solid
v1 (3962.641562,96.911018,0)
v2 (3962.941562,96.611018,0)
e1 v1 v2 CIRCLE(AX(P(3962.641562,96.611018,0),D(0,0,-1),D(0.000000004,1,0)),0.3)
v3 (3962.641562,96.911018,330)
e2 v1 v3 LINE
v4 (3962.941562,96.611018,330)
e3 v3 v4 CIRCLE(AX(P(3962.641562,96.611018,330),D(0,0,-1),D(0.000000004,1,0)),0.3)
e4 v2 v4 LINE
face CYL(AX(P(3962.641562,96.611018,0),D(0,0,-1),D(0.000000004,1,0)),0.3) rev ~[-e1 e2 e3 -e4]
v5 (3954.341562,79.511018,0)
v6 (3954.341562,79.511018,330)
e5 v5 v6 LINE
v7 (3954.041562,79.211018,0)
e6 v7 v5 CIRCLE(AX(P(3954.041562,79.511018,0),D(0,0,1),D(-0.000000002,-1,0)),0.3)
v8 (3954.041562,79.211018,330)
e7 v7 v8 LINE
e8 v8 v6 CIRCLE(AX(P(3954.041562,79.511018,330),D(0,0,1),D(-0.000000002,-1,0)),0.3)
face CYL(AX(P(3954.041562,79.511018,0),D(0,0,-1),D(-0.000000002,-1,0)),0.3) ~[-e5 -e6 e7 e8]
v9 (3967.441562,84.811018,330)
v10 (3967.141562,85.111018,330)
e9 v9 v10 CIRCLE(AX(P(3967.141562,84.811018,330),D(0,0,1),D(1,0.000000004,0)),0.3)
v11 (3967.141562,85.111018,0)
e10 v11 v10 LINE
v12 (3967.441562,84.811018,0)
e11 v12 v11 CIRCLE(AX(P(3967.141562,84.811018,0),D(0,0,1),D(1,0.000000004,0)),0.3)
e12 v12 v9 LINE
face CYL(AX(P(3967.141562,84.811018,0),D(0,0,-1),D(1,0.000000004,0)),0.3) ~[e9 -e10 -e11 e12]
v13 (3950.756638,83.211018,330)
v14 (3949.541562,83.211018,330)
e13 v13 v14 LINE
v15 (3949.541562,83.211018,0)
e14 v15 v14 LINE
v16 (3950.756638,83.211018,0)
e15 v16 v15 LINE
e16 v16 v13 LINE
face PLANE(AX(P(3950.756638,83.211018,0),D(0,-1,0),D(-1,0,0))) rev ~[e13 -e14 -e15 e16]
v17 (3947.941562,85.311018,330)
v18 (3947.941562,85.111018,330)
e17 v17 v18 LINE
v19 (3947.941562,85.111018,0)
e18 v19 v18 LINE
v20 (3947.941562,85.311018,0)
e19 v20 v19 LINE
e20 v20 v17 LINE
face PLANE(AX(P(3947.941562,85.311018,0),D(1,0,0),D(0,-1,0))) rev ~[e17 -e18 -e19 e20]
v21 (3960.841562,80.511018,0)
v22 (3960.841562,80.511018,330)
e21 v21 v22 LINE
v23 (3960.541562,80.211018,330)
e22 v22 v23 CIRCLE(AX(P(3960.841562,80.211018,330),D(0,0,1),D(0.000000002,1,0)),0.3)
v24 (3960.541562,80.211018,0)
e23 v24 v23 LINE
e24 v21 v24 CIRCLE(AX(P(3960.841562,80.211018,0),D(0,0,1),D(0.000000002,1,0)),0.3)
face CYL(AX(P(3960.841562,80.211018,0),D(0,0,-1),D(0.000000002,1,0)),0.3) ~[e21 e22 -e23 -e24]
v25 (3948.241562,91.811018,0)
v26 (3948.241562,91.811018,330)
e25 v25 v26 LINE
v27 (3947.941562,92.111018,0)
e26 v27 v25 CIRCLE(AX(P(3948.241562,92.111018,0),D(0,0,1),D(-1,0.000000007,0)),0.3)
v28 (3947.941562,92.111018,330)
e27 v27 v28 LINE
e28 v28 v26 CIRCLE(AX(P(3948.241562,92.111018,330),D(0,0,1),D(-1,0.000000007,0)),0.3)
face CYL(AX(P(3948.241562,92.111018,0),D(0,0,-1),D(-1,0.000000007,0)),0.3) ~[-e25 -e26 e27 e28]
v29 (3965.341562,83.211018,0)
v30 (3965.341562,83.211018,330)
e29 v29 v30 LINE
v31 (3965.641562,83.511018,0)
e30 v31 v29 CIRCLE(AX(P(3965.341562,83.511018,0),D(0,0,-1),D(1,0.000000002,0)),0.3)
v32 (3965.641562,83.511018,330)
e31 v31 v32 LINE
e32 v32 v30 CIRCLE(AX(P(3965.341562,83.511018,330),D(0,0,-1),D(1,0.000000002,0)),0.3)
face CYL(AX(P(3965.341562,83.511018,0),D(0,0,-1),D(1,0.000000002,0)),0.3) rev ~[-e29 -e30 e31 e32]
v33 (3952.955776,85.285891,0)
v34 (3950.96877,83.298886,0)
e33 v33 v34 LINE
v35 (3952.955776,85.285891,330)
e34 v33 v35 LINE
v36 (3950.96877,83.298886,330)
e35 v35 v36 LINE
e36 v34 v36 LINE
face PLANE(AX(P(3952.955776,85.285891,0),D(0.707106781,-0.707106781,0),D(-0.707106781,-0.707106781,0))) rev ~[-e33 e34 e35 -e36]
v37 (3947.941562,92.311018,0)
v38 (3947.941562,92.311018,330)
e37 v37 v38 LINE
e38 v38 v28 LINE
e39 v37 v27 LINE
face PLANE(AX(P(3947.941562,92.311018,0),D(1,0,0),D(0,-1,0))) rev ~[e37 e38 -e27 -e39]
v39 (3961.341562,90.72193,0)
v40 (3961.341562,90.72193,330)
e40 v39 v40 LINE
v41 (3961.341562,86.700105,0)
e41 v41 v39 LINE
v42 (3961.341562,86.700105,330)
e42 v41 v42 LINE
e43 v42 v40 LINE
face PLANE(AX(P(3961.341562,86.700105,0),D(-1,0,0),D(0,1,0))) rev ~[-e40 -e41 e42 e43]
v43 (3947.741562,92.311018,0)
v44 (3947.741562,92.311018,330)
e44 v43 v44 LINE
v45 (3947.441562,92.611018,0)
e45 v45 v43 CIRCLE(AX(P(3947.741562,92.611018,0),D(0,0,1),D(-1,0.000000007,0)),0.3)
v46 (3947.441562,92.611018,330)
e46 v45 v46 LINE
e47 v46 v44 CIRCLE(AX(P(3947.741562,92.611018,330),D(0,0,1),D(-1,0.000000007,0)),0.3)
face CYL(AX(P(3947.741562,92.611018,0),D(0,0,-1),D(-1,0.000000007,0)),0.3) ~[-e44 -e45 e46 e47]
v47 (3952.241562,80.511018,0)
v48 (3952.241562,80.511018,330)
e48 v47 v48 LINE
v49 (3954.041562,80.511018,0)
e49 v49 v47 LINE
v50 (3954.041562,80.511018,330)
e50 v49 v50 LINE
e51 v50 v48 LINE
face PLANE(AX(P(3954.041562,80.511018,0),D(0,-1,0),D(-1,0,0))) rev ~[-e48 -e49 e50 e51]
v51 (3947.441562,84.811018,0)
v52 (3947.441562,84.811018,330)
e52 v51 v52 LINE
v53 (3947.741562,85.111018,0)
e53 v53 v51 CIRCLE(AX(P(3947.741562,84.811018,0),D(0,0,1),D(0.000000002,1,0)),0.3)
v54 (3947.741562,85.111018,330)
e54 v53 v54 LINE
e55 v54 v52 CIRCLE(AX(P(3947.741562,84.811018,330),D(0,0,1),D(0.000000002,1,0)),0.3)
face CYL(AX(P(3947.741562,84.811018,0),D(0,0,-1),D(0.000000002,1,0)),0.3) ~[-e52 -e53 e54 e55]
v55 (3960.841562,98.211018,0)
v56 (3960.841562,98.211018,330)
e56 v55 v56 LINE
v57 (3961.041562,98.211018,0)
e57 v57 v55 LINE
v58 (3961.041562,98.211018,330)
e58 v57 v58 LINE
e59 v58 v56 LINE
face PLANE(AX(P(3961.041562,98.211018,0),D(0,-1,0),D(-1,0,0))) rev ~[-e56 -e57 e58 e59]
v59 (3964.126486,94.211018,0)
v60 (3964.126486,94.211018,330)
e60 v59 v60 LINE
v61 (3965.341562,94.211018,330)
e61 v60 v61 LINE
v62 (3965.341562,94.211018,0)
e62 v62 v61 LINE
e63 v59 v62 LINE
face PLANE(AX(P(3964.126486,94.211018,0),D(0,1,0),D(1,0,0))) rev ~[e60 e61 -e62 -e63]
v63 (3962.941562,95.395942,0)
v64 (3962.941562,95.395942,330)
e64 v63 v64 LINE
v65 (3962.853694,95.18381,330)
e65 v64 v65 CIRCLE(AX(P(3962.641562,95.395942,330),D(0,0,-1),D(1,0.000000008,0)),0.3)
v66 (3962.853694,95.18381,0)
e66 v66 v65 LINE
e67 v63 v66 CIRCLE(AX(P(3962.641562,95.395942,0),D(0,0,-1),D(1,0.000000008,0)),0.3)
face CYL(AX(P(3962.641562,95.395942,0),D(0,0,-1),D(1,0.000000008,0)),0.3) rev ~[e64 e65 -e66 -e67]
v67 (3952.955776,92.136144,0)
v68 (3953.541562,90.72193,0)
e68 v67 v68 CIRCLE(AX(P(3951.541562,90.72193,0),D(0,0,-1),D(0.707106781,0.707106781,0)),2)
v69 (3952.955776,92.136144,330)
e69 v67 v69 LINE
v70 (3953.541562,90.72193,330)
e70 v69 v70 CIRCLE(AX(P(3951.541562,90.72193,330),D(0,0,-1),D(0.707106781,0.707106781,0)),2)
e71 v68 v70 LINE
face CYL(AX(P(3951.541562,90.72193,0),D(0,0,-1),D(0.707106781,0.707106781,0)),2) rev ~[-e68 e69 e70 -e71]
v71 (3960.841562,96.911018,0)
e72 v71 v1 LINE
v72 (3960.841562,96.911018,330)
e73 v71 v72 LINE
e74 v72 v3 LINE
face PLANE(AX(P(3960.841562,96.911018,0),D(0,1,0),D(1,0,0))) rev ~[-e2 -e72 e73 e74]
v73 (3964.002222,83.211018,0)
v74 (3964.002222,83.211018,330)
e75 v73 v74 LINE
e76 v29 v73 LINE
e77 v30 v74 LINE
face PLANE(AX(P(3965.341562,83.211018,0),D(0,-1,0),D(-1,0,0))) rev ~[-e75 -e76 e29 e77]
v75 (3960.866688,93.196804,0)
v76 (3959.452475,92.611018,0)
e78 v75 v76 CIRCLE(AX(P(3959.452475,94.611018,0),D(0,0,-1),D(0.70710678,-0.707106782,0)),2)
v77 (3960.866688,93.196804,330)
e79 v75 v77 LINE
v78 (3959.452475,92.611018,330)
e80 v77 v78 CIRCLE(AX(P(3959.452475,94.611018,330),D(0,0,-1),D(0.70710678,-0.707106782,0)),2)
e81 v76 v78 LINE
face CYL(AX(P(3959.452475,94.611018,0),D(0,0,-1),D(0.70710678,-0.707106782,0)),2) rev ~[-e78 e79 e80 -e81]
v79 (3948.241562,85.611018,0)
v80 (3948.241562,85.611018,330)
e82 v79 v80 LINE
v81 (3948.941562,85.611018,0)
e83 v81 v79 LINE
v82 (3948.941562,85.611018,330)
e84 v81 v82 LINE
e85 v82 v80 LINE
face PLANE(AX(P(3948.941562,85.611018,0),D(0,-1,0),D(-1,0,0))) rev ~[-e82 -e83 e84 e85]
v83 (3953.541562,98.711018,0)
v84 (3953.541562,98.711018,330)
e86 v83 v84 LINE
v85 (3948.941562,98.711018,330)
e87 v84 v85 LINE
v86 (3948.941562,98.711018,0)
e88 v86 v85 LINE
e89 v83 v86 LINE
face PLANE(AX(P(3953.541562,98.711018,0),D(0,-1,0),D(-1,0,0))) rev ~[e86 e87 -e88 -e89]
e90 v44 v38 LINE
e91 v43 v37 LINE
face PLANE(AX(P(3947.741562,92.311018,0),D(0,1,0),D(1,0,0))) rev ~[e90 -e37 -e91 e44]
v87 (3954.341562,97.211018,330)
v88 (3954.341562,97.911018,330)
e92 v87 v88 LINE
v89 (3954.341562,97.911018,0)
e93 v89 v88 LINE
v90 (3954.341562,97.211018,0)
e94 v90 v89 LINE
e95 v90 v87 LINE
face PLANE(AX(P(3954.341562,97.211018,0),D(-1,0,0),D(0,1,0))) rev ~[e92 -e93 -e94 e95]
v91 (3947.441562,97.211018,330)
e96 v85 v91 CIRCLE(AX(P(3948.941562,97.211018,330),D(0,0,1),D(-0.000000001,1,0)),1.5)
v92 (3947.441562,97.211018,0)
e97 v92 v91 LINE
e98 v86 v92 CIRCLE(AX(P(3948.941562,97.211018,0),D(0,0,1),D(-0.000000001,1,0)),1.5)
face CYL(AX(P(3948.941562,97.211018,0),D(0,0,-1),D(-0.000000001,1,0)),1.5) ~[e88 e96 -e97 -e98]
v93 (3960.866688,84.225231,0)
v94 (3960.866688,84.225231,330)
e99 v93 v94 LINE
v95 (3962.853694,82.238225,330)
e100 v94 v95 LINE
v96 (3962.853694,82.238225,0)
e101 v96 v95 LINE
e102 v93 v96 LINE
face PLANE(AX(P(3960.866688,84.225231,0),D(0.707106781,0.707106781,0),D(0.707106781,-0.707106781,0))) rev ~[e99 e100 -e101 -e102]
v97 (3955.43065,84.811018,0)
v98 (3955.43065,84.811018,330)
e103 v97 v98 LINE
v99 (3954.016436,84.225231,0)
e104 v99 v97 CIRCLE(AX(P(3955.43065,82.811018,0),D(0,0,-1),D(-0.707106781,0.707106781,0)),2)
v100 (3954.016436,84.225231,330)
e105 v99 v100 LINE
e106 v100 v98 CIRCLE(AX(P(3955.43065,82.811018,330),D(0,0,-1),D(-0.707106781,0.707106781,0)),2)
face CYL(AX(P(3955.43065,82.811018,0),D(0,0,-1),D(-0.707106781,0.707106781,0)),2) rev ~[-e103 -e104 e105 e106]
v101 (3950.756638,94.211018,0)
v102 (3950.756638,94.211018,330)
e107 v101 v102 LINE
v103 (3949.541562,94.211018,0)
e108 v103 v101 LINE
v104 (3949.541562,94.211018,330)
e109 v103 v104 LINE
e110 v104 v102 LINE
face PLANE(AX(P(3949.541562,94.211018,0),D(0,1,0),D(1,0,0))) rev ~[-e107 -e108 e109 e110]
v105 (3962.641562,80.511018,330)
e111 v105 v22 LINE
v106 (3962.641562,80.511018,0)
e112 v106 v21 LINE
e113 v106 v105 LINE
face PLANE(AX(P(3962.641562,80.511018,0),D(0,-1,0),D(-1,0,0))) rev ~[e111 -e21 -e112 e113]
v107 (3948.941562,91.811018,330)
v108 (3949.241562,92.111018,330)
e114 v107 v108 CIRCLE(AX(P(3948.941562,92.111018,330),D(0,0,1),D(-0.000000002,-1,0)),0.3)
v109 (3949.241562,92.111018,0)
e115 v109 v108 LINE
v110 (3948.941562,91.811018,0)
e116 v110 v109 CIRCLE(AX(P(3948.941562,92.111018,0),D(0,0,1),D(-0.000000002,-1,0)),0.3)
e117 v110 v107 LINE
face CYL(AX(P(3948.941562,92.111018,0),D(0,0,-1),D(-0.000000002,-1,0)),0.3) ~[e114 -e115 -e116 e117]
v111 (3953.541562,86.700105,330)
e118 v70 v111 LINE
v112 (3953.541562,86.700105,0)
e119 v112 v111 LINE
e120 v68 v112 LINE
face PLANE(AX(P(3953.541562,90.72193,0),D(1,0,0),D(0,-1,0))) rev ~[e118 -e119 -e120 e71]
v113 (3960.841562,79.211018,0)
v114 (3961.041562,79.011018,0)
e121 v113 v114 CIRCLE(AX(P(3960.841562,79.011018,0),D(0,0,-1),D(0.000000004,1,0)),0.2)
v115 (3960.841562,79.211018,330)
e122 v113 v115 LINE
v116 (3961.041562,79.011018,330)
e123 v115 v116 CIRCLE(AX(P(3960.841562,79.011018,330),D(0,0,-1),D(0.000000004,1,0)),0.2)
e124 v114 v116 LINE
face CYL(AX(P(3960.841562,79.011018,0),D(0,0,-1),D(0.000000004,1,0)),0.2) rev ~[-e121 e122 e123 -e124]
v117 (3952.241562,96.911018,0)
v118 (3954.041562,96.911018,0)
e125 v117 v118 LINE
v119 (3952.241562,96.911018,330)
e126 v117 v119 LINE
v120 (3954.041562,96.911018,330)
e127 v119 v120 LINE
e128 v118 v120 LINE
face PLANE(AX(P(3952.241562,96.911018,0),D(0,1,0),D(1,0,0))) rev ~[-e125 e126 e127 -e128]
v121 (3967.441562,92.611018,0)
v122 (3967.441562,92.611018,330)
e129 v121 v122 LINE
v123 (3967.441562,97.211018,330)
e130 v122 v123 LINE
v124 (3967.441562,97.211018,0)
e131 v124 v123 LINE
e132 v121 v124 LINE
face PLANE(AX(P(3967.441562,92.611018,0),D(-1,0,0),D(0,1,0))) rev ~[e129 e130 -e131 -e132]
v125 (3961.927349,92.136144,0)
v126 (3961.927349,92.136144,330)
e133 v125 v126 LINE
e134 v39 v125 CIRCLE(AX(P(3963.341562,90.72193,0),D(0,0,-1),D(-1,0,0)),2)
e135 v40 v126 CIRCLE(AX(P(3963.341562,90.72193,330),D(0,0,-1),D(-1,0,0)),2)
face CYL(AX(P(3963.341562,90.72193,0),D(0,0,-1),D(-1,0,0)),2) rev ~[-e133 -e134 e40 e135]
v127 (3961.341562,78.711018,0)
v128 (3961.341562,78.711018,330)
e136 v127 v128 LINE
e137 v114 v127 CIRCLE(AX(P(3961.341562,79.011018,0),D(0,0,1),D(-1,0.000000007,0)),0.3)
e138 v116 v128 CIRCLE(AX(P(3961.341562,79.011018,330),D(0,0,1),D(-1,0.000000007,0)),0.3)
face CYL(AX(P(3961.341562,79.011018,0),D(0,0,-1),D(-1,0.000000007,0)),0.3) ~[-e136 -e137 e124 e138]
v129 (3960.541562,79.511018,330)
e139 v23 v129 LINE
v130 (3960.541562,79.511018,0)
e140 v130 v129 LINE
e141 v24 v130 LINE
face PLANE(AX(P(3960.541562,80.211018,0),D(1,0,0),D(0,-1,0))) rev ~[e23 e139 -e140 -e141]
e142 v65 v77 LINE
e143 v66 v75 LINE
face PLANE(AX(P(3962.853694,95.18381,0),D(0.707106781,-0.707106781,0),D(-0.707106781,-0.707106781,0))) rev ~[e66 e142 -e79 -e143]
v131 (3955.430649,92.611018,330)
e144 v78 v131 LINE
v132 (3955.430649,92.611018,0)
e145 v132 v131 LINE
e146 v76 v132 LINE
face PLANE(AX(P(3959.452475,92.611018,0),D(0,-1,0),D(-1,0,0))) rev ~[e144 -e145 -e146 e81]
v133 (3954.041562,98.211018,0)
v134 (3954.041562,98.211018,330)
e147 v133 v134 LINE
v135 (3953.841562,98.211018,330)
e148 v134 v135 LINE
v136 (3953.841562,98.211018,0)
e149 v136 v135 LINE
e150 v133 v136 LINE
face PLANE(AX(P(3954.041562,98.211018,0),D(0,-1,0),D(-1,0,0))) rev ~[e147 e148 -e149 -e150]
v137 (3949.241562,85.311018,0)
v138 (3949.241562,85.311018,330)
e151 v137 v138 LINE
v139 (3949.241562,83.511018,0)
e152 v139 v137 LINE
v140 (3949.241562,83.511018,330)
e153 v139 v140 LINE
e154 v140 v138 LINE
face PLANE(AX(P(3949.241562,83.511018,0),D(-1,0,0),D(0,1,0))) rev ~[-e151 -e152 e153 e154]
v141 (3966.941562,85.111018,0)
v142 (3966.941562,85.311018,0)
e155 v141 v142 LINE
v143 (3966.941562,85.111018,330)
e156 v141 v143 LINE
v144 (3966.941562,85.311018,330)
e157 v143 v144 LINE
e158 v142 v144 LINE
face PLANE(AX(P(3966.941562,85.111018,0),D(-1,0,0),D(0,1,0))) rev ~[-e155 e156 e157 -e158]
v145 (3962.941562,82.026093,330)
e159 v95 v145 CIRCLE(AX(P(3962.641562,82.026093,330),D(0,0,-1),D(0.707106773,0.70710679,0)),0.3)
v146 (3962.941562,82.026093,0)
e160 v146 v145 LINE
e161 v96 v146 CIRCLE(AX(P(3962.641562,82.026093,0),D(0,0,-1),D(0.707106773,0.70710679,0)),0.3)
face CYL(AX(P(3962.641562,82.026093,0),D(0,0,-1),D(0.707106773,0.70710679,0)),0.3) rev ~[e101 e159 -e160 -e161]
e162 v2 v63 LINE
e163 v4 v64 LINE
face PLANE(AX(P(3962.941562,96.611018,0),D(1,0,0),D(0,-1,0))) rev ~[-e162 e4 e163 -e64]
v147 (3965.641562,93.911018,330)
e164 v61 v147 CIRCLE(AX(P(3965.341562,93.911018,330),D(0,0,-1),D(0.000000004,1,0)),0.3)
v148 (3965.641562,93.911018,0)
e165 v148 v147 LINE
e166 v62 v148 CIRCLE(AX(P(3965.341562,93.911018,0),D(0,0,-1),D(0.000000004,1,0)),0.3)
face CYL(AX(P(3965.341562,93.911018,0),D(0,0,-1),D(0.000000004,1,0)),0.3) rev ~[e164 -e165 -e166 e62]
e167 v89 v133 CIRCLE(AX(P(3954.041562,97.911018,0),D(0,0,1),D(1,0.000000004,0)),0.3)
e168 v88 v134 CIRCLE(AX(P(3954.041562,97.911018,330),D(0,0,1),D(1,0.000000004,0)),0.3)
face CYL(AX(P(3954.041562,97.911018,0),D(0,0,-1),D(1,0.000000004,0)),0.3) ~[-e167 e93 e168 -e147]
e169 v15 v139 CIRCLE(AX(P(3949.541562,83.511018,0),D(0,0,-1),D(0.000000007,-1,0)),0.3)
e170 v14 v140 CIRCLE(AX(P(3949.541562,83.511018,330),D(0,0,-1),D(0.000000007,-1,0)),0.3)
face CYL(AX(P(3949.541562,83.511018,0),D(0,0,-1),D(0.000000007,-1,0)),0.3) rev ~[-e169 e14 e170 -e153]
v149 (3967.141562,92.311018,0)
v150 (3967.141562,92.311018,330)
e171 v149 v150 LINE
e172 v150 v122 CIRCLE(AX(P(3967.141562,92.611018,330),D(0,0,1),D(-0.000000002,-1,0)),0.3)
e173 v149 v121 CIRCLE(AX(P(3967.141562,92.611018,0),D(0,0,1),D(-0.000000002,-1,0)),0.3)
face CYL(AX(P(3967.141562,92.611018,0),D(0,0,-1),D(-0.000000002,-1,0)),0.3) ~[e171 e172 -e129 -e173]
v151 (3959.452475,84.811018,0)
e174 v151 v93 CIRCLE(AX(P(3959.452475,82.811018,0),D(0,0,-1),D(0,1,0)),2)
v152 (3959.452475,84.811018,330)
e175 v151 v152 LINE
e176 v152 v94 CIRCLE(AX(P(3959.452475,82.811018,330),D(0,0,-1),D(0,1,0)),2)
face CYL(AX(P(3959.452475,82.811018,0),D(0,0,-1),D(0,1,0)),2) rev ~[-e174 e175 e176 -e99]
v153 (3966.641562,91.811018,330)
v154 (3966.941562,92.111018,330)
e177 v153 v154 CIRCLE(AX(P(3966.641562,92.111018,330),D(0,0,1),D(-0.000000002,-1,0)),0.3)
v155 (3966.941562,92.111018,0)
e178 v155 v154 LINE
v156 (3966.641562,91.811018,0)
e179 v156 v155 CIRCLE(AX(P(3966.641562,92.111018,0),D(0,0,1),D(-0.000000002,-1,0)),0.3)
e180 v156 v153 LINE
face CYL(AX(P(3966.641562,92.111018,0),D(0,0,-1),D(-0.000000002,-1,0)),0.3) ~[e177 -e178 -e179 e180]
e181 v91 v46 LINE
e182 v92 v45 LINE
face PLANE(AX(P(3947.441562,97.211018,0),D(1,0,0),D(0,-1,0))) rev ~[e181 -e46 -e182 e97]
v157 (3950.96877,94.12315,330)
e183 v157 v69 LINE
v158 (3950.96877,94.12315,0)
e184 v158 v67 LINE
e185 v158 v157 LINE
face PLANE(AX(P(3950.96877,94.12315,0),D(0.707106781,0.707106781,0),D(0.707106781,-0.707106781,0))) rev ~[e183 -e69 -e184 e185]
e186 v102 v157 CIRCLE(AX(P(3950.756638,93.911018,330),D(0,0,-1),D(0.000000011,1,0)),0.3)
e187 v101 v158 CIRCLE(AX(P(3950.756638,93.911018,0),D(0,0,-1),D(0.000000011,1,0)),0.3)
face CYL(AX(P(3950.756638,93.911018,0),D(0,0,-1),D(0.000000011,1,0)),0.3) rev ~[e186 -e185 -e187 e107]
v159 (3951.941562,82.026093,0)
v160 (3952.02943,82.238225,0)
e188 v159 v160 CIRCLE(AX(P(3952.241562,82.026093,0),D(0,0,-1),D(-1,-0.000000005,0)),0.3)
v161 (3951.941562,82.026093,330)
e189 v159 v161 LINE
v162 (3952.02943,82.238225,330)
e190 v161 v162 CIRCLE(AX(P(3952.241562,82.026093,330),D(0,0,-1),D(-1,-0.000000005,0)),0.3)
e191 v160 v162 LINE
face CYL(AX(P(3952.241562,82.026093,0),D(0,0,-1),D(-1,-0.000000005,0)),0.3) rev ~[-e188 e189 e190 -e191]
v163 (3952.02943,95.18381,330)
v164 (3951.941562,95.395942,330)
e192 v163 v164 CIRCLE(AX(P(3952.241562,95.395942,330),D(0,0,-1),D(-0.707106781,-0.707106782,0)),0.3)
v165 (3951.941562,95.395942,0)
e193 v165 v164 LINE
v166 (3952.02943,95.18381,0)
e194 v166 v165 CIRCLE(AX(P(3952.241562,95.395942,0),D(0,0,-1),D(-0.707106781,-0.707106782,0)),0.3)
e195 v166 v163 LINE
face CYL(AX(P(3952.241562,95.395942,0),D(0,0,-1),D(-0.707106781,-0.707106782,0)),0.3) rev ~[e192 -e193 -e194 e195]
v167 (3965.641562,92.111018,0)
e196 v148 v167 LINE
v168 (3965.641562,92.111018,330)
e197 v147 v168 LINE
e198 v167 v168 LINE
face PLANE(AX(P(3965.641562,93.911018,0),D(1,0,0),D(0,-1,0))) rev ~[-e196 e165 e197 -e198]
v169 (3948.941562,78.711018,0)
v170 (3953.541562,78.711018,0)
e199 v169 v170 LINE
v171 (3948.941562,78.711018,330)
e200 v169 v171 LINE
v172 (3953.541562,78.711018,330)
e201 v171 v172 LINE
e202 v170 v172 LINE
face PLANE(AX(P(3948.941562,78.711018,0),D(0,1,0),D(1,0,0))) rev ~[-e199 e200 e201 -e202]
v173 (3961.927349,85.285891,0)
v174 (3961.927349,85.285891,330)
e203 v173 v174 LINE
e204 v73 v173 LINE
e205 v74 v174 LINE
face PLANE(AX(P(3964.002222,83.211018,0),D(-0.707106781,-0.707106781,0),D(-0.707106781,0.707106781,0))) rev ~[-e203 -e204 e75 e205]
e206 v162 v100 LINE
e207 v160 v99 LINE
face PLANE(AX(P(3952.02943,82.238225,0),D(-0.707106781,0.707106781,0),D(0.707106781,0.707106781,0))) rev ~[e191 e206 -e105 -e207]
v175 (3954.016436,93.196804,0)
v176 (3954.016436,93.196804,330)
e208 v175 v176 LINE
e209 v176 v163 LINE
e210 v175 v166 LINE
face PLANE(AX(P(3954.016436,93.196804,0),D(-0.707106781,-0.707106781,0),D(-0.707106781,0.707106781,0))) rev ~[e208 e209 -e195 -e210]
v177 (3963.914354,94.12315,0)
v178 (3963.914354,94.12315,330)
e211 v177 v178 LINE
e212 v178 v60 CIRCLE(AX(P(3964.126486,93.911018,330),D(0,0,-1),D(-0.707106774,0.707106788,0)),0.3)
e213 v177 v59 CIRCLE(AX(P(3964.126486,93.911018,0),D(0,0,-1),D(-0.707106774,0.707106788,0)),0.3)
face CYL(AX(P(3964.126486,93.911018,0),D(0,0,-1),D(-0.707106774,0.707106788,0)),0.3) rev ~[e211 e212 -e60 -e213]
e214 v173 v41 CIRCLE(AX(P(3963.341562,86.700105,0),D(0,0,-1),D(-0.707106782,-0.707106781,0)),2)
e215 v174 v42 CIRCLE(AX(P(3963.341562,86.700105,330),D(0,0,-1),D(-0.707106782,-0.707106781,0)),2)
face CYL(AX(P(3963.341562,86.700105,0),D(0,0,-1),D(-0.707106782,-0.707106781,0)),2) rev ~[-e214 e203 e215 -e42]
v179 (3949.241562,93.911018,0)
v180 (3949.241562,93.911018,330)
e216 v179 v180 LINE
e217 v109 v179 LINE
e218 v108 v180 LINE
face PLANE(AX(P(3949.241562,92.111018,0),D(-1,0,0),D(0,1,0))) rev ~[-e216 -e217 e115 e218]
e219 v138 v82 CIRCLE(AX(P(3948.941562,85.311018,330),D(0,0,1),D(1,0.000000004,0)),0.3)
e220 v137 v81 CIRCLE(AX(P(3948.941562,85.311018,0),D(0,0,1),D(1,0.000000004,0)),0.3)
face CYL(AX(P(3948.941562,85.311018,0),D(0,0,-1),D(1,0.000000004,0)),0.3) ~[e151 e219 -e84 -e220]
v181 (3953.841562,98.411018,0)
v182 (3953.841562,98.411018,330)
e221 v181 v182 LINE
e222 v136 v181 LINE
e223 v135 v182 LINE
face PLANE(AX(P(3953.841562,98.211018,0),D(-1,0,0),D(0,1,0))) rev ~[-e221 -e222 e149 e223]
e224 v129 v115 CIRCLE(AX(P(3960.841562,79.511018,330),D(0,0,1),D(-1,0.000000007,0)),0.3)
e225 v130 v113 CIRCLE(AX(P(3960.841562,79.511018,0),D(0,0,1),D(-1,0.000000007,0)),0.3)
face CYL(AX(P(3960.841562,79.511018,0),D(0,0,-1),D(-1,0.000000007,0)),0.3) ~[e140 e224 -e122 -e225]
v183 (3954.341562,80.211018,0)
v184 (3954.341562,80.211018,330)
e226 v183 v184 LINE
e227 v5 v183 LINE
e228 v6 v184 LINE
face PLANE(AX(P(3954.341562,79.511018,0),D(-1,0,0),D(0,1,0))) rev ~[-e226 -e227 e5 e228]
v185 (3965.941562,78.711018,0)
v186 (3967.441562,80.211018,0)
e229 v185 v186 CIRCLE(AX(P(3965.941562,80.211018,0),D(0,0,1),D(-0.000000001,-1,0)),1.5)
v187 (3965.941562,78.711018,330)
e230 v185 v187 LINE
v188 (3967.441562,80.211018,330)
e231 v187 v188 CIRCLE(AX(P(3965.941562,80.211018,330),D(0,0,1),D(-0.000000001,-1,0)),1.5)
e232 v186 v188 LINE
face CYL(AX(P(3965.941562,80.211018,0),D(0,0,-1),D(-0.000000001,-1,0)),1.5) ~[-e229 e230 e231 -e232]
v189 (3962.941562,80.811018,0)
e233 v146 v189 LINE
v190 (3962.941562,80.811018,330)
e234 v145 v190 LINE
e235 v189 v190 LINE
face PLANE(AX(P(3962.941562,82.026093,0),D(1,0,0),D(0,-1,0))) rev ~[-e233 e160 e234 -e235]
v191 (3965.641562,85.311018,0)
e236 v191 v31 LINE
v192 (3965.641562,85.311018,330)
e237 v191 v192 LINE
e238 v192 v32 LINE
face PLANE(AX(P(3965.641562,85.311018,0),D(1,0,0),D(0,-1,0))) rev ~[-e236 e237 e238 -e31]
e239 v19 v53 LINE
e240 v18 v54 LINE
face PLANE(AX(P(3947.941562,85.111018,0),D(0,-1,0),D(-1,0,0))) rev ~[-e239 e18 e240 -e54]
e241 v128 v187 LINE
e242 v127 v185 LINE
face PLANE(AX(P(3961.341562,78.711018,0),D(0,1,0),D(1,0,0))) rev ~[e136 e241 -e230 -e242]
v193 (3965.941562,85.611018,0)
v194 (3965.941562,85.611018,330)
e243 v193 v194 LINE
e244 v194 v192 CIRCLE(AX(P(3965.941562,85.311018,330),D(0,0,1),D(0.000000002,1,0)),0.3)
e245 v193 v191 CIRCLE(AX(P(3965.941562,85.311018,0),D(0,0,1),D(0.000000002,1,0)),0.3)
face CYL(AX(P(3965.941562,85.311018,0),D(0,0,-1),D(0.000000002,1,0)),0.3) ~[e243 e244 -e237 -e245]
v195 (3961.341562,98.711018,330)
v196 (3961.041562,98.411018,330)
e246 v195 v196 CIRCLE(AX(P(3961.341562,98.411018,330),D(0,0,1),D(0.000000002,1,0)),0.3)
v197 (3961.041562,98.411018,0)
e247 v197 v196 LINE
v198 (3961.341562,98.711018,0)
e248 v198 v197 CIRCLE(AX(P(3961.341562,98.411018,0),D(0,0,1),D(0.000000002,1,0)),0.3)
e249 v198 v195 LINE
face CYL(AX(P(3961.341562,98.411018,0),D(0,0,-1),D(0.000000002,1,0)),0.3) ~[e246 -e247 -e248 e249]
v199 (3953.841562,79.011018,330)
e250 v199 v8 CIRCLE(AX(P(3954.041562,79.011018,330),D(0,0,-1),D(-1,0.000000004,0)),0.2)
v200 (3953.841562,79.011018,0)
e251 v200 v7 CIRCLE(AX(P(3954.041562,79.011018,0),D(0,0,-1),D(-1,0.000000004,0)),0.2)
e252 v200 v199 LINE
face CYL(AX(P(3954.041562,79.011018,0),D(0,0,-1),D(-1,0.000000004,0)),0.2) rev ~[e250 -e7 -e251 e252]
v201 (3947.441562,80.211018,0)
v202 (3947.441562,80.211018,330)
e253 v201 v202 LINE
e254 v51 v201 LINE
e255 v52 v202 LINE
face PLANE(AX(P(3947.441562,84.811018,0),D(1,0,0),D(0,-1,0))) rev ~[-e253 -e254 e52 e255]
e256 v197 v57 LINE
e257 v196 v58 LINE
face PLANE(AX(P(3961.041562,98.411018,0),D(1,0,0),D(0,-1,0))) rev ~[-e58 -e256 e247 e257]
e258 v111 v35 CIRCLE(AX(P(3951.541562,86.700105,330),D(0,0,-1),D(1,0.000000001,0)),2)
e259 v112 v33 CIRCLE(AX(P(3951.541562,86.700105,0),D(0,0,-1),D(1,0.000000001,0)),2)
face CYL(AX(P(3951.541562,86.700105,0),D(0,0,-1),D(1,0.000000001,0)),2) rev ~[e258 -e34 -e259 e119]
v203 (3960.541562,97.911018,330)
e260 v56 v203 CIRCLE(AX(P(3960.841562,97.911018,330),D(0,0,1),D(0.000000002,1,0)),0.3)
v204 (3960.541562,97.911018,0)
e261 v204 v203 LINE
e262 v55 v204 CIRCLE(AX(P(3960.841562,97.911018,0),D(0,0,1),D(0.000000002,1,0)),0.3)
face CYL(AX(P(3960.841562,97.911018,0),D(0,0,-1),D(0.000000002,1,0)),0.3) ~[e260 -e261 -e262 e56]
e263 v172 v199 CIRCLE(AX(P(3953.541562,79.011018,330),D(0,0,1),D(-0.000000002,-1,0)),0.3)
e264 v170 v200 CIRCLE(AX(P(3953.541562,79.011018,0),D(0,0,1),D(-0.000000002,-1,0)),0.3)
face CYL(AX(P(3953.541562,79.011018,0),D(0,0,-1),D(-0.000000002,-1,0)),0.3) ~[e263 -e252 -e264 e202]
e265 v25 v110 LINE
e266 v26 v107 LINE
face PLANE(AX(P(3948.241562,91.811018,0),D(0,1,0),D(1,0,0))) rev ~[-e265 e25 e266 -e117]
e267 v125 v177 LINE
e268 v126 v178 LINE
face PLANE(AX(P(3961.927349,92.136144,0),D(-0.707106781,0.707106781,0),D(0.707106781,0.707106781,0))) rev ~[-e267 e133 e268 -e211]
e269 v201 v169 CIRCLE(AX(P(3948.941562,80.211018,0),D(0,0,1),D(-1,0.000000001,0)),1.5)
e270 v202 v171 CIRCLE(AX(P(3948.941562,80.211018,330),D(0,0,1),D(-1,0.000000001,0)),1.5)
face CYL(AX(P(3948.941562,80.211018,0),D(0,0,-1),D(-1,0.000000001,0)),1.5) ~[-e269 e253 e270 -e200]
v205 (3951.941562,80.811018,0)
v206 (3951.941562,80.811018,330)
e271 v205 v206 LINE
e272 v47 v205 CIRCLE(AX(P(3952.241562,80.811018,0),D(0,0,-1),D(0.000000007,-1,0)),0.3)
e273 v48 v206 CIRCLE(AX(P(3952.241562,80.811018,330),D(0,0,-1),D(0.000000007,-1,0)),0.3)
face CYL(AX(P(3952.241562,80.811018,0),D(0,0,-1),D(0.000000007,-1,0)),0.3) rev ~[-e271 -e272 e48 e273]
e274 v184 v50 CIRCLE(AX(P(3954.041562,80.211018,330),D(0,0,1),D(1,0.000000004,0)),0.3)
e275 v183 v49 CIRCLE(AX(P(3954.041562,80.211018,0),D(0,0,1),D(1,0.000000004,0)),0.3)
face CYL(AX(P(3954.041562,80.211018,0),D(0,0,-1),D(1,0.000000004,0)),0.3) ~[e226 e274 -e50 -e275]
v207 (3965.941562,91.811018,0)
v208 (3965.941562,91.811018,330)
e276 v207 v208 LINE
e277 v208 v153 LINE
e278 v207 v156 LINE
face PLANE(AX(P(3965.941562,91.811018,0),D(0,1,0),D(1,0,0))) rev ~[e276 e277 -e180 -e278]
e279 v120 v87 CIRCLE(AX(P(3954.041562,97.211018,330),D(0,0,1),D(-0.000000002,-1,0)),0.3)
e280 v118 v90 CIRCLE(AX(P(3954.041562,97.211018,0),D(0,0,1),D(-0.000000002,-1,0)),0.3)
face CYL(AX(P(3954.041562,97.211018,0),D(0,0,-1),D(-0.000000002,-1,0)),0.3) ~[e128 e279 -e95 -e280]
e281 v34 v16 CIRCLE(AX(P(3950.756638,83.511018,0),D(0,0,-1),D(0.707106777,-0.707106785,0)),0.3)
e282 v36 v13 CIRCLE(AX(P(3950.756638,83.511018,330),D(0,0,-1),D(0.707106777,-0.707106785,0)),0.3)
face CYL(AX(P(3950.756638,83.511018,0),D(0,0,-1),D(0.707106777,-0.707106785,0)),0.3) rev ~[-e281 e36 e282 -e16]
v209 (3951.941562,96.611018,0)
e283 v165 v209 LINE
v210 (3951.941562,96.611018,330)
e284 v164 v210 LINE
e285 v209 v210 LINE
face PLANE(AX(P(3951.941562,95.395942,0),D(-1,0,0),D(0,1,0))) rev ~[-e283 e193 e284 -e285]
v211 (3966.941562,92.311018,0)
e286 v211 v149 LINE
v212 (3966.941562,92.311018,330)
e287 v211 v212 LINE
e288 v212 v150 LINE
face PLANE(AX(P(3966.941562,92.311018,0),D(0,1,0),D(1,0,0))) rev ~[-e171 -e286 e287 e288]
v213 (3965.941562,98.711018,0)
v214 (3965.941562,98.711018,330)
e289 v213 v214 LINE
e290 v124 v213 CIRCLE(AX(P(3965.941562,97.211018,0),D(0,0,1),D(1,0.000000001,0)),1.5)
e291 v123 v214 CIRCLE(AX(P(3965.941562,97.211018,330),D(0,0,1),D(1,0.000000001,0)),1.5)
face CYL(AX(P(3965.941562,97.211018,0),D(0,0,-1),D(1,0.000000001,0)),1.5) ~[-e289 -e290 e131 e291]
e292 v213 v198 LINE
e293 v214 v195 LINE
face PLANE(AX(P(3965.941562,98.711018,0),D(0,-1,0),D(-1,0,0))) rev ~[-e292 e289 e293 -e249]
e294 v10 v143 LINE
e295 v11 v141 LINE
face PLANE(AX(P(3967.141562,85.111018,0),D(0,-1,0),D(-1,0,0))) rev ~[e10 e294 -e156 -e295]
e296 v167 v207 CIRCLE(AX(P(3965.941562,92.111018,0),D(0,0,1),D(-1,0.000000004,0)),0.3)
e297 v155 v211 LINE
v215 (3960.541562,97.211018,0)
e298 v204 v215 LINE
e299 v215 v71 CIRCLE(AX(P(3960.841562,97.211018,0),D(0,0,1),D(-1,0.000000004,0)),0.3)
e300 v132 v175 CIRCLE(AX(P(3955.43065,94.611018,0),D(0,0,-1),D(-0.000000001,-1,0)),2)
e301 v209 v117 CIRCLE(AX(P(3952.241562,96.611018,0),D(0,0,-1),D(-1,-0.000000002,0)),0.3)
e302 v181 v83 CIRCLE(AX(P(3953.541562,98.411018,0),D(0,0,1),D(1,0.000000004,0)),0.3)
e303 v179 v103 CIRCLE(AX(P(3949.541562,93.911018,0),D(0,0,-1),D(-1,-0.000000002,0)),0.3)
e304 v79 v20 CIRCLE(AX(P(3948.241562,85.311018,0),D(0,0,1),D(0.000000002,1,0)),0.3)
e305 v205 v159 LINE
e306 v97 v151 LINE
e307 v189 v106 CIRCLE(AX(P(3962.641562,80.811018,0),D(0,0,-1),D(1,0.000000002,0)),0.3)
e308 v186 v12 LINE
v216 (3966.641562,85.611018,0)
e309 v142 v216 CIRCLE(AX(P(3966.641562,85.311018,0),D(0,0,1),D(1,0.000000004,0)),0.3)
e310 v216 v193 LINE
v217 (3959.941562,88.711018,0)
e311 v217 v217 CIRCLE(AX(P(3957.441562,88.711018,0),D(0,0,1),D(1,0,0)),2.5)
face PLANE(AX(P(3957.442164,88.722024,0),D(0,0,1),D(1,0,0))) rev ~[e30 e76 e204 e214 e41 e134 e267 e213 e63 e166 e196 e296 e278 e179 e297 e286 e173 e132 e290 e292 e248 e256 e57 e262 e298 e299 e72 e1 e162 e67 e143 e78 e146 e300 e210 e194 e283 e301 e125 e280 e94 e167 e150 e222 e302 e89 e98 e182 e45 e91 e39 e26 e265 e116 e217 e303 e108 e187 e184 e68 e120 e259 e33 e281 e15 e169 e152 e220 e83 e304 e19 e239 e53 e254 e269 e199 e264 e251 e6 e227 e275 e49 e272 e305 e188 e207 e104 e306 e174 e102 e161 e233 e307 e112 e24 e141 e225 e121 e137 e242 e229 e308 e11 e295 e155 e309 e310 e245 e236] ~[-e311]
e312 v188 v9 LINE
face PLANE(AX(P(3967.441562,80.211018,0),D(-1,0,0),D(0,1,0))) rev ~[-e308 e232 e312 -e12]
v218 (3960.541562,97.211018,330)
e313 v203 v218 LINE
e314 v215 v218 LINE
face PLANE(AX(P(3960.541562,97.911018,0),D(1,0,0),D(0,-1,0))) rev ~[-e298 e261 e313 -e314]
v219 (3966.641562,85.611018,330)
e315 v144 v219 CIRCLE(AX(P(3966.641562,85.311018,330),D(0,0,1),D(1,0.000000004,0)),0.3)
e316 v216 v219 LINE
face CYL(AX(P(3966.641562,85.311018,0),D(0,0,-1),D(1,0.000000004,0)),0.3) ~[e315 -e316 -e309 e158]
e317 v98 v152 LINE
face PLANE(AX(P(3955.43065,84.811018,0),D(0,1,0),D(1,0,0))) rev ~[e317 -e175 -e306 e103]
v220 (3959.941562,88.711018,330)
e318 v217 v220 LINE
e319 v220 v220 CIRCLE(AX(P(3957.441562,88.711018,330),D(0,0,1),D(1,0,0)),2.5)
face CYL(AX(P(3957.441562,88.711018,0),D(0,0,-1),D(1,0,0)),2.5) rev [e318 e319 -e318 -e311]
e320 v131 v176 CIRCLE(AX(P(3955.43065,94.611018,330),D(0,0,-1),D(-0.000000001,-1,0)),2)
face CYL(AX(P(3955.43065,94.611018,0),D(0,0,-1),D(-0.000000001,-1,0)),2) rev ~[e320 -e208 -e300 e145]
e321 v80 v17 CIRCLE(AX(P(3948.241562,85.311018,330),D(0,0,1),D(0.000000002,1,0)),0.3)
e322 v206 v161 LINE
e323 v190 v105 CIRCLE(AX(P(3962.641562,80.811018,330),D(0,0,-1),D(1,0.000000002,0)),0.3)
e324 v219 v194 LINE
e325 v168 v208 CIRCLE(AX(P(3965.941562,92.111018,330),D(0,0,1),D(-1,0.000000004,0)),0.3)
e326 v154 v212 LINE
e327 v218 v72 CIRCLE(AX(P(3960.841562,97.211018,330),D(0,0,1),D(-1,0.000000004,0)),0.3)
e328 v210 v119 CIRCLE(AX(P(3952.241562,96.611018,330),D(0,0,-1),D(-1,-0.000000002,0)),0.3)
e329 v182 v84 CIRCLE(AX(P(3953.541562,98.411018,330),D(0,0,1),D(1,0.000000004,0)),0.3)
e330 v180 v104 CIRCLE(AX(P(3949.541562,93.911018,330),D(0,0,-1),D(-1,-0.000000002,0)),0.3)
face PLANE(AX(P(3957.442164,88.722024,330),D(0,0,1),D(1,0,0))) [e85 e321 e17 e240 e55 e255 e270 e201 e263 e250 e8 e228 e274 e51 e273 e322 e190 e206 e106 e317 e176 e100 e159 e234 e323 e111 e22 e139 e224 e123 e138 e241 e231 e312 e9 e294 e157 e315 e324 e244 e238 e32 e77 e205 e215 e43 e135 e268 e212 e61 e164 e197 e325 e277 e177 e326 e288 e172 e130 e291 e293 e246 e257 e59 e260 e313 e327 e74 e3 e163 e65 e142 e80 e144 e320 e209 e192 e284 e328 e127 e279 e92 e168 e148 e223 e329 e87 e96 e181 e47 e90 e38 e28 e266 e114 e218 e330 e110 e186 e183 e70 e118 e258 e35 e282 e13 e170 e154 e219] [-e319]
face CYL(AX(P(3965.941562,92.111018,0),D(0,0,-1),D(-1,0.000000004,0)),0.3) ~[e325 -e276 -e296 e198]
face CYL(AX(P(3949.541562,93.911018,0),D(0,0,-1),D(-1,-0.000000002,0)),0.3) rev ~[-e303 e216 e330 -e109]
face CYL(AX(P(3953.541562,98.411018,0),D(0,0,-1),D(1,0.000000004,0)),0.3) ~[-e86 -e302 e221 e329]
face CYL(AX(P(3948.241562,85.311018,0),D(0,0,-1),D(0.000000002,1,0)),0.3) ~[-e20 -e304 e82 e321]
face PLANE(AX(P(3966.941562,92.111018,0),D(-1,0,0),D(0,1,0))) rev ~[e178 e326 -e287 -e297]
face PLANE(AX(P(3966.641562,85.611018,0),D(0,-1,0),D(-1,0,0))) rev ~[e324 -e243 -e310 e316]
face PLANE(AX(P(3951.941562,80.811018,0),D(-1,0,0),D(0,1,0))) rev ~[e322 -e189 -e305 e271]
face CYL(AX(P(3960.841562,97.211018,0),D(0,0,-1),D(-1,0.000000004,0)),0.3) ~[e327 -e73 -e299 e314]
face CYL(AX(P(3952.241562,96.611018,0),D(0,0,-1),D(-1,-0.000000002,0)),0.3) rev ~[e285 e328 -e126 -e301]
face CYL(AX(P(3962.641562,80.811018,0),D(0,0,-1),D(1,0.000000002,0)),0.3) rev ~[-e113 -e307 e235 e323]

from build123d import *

# Parameters (mm, degrees)
SKETCH_191_R    = 2.5
EXTRUDE_1_DEPTH = 330


with BuildPart() as part:
    # Sketch 191 → 凸台-拉伸1 (new body)
    with BuildSketch(Plane.XY):
        with BuildLine():
            Line((3961.92734864, 92.136143898), (3963.914354409, 94.123149666))
            ThreePointArc((3963.914354409, 94.123149666), (3964.011681414, 94.188181491), (3964.126486443, 94.211017632))
            Line((3964.126486443, 94.211017632), (3965.341562203, 94.211017632))
            ThreePointArc((3965.341562203, 94.211017632), (3965.553694237, 94.123149666), (3965.641562203, 93.911017632))
            Line((3965.641562203, 93.911017632), (3965.641562203, 92.111017631))
            ThreePointArc((3965.641562203, 92.111017631), (3965.729430168, 91.898885597), (3965.941562203, 91.811017632))
            Line((3965.941562203, 91.811017632), (3966.641562203, 91.811017632))
            ThreePointArc((3966.641562203, 91.811017632), (3966.853694237, 91.898885597), (3966.941562203, 92.111017632))
            Line((3966.941562203, 92.111017632), (3966.941562203, 92.311017632))
            Line((3966.941562203, 92.311017632), (3967.141562203, 92.311017632))
            ThreePointArc((3967.141562203, 92.311017632), (3967.353694237, 92.398885597), (3967.441562203, 92.611017632))
            Line((3967.441562203, 92.611017632), (3967.441562203, 97.211017632))
            ThreePointArc((3967.441562203, 97.211017632), (3967.002222375, 98.271677803), (3965.941562203, 98.711017632))
            Line((3965.941562203, 98.711017632), (3961.341562203, 98.711017632))
            ThreePointArc((3961.341562203, 98.711017632), (3961.129430168, 98.623149666), (3961.041562203, 98.411017632))
            Line((3961.041562203, 98.411017632), (3961.041562203, 98.211017632))
            Line((3961.041562203, 98.211017632), (3960.841562203, 98.211017632))
            ThreePointArc((3960.841562203, 98.211017632), (3960.629430168, 98.123149666), (3960.541562203, 97.911017632))
            Line((3960.541562203, 97.911017632), (3960.541562203, 97.211017631))
            ThreePointArc((3960.541562203, 97.211017631), (3960.629430168, 96.998885597), (3960.841562203, 96.911017632))
            Line((3960.841562203, 96.911017632), (3962.641562203, 96.911017632))
            ThreePointArc((3962.641562203, 96.911017632), (3962.853694237, 96.823149666), (3962.941562203, 96.611017632))
            Line((3962.941562203, 96.611017632), (3962.941562203, 95.395941872))
            ThreePointArc((3962.941562203, 95.395941872), (3962.918726063, 95.281136842), (3962.853694237, 95.183809838))
            Line((3962.853694237, 95.183809838), (3960.866688469, 93.196804069))
            ThreePointArc((3960.866688469, 93.196804069), (3960.217841771, 92.763258567), (3959.452474906, 92.611017632))
            Line((3959.452474906, 92.611017632), (3955.430649499, 92.611017632))
            ThreePointArc((3955.430649499, 92.611017632), (3954.665282635, 92.763258567), (3954.016435937, 93.196804069))
            Line((3954.016435937, 93.196804069), (3952.029430168, 95.183809838))
            ThreePointArc((3952.029430168, 95.183809838), (3951.964398343, 95.281136842), (3951.941562203, 95.395941872))
            Line((3951.941562203, 95.395941872), (3951.941562203, 96.611017632))
            ThreePointArc((3951.941562203, 96.611017632), (3952.029430168, 96.823149666), (3952.241562203, 96.911017632))
            Line((3952.241562203, 96.911017632), (3954.041562203, 96.911017632))
            ThreePointArc((3954.041562203, 96.911017632), (3954.253694237, 96.998885597), (3954.341562203, 97.211017631))
            Line((3954.341562203, 97.211017631), (3954.341562203, 97.911017632))
            ThreePointArc((3954.341562203, 97.911017632), (3954.253694237, 98.123149666), (3954.041562203, 98.211017632))
            Line((3954.041562203, 98.211017632), (3953.841562203, 98.211017632))
            Line((3953.841562203, 98.211017632), (3953.841562203, 98.411017632))
            ThreePointArc((3953.841562203, 98.411017632), (3953.753694237, 98.623149666), (3953.541562203, 98.711017632))
            Line((3953.541562203, 98.711017632), (3948.941562203, 98.711017632))
            ThreePointArc((3948.941562203, 98.711017632), (3947.880902031, 98.271677803), (3947.441562203, 97.211017632))
            Line((3947.441562203, 97.211017632), (3947.441562203, 92.611017632))
            ThreePointArc((3947.441562203, 92.611017632), (3947.529430168, 92.398885597), (3947.741562203, 92.311017632))
            Line((3947.741562203, 92.311017632), (3947.941562203, 92.311017632))
            Line((3947.941562203, 92.311017632), (3947.941562203, 92.111017632))
            ThreePointArc((3947.941562203, 92.111017632), (3948.029430168, 91.898885597), (3948.241562203, 91.811017632))
            Line((3948.241562203, 91.811017632), (3948.941562203, 91.811017632))
            ThreePointArc((3948.941562203, 91.811017632), (3949.153694237, 91.898885597), (3949.241562203, 92.111017632))
            Line((3949.241562203, 92.111017632), (3949.241562203, 93.911017632))
            ThreePointArc((3949.241562203, 93.911017632), (3949.329430168, 94.123149666), (3949.541562203, 94.211017632))
            Line((3949.541562203, 94.211017632), (3950.756637962, 94.211017632))
            ThreePointArc((3950.756637962, 94.211017632), (3950.871442992, 94.188181491), (3950.968769997, 94.123149666))
            Line((3950.968769997, 94.123149666), (3952.955775765, 92.136143898))
            ThreePointArc((3952.955775765, 92.136143898), (3953.389321268, 91.4872972), (3953.541562203, 90.721930335))
            Line((3953.541562203, 90.721930335), (3953.541562203, 86.700104928))
            ThreePointArc((3953.541562203, 86.700104928), (3953.389321268, 85.934738063), (3952.955775765, 85.285891366))
            Line((3952.955775765, 85.285891366), (3950.968769997, 83.298885597))
            ThreePointArc((3950.968769997, 83.298885597), (3950.871442992, 83.233853772), (3950.756637962, 83.211017632))
            Line((3950.756637962, 83.211017632), (3949.541562203, 83.211017632))
            ThreePointArc((3949.541562203, 83.211017632), (3949.329430168, 83.298885597), (3949.241562203, 83.511017632))
            Line((3949.241562203, 83.511017632), (3949.241562203, 85.311017632))
            ThreePointArc((3949.241562203, 85.311017632), (3949.153694237, 85.523149666), (3948.941562203, 85.611017632))
            Line((3948.941562203, 85.611017632), (3948.241562203, 85.611017632))
            ThreePointArc((3948.241562203, 85.611017632), (3948.029430168, 85.523149666), (3947.941562203, 85.311017632))
            Line((3947.941562203, 85.311017632), (3947.941562203, 85.111017632))
            Line((3947.941562203, 85.111017632), (3947.741562203, 85.111017632))
            ThreePointArc((3947.741562203, 85.111017632), (3947.529430168, 85.023149666), (3947.441562203, 84.811017632))
            Line((3947.441562203, 84.811017632), (3947.441562203, 80.211017632))
            ThreePointArc((3947.441562203, 80.211017632), (3947.880902031, 79.15035746), (3948.941562203, 78.711017632))
            Line((3948.941562203, 78.711017632), (3953.541562203, 78.711017632))
            ThreePointArc((3953.541562203, 78.711017632), (3953.753694237, 78.798885597), (3953.841562203, 79.011017632))
            ThreePointArc((3953.841562203, 79.011017632), (3953.900140847, 79.152438988), (3954.041562203, 79.211017632))
            ThreePointArc((3954.041562203, 79.211017632), (3954.253694237, 79.298885597), (3954.341562203, 79.511017632))
            Line((3954.341562203, 79.511017632), (3954.341562203, 80.211017632))
            ThreePointArc((3954.341562203, 80.211017632), (3954.253694237, 80.423149666), (3954.041562203, 80.511017632))
            Line((3954.041562203, 80.511017632), (3952.241562203, 80.511017632))
            ThreePointArc((3952.241562203, 80.511017632), (3952.029430168, 80.598885597), (3951.941562203, 80.811017632))
            Line((3951.941562203, 80.811017632), (3951.941562203, 82.026093391))
            ThreePointArc((3951.941562203, 82.026093391), (3951.964398343, 82.140898421), (3952.029430168, 82.238225425))
            Line((3952.029430168, 82.238225425), (3954.016435937, 84.225231194))
            ThreePointArc((3954.016435937, 84.225231194), (3954.665282635, 84.658776697), (3955.4306495, 84.811017632))
            Line((3955.4306495, 84.811017632), (3959.452474906, 84.811017632))
            ThreePointArc((3959.452474906, 84.811017632), (3960.217841771, 84.658776697), (3960.866688469, 84.225231194))
            Line((3960.866688469, 84.225231194), (3962.853694237, 82.238225425))
            ThreePointArc((3962.853694237, 82.238225425), (3962.918726063, 82.140898421), (3962.941562203, 82.026093391))
            Line((3962.941562203, 82.026093391), (3962.941562203, 80.811017632))
            ThreePointArc((3962.941562203, 80.811017632), (3962.853694237, 80.598885597), (3962.641562203, 80.511017632))
            Line((3962.641562203, 80.511017632), (3960.841562203, 80.511017632))
            ThreePointArc((3960.841562203, 80.511017632), (3960.629430168, 80.423149666), (3960.541562203, 80.211017632))
            Line((3960.541562203, 80.211017632), (3960.541562203, 79.511017632))
            ThreePointArc((3960.541562203, 79.511017632), (3960.629430168, 79.298885597), (3960.841562203, 79.211017632))
            ThreePointArc((3960.841562203, 79.211017632), (3960.982983559, 79.152438988), (3961.041562203, 79.011017632))
            ThreePointArc((3961.041562203, 79.011017632), (3961.129430168, 78.798885597), (3961.341562203, 78.711017632))
            Line((3961.341562203, 78.711017632), (3965.941562203, 78.711017632))
            ThreePointArc((3965.941562203, 78.711017632), (3967.002222375, 79.15035746), (3967.441562203, 80.211017632))
            Line((3967.441562203, 80.211017632), (3967.441562203, 84.811017632))
            ThreePointArc((3967.441562203, 84.811017632), (3967.353694237, 85.023149666), (3967.141562203, 85.111017632))
            Line((3967.141562203, 85.111017632), (3966.941562203, 85.111017632))
            Line((3966.941562203, 85.111017632), (3966.941562203, 85.311017632))
            ThreePointArc((3966.941562203, 85.311017632), (3966.853694237, 85.523149666), (3966.641562203, 85.611017632))
            Line((3966.641562203, 85.611017632), (3965.941562203, 85.611017632))
            ThreePointArc((3965.941562203, 85.611017632), (3965.729430168, 85.523149666), (3965.641562203, 85.311017632))
            Line((3965.641562203, 85.311017632), (3965.641562203, 83.511017632))
            ThreePointArc((3965.641562203, 83.511017632), (3965.553694237, 83.298885597), (3965.341562203, 83.211017632))
            Line((3965.341562203, 83.211017632), (3964.002222375, 83.211017632))
            Line((3964.002222375, 83.211017632), (3961.92734864, 85.285891366))
            ThreePointArc((3961.92734864, 85.285891366), (3961.493803138, 85.934738063), (3961.341562203, 86.700104928))
            Line((3961.341562203, 86.700104928), (3961.341562203, 90.721930335))
            ThreePointArc((3961.341562203, 90.721930335), (3961.493803138, 91.4872972), (3961.92734864, 92.136143898))
        make_face()
        with Locations((3957.441562203, 88.711017632)):
            Circle(SKETCH_191_R, mode=Mode.SUBTRACT)
    extrude(amount=EXTRUDE_1_DEPTH)


solid = part.part
